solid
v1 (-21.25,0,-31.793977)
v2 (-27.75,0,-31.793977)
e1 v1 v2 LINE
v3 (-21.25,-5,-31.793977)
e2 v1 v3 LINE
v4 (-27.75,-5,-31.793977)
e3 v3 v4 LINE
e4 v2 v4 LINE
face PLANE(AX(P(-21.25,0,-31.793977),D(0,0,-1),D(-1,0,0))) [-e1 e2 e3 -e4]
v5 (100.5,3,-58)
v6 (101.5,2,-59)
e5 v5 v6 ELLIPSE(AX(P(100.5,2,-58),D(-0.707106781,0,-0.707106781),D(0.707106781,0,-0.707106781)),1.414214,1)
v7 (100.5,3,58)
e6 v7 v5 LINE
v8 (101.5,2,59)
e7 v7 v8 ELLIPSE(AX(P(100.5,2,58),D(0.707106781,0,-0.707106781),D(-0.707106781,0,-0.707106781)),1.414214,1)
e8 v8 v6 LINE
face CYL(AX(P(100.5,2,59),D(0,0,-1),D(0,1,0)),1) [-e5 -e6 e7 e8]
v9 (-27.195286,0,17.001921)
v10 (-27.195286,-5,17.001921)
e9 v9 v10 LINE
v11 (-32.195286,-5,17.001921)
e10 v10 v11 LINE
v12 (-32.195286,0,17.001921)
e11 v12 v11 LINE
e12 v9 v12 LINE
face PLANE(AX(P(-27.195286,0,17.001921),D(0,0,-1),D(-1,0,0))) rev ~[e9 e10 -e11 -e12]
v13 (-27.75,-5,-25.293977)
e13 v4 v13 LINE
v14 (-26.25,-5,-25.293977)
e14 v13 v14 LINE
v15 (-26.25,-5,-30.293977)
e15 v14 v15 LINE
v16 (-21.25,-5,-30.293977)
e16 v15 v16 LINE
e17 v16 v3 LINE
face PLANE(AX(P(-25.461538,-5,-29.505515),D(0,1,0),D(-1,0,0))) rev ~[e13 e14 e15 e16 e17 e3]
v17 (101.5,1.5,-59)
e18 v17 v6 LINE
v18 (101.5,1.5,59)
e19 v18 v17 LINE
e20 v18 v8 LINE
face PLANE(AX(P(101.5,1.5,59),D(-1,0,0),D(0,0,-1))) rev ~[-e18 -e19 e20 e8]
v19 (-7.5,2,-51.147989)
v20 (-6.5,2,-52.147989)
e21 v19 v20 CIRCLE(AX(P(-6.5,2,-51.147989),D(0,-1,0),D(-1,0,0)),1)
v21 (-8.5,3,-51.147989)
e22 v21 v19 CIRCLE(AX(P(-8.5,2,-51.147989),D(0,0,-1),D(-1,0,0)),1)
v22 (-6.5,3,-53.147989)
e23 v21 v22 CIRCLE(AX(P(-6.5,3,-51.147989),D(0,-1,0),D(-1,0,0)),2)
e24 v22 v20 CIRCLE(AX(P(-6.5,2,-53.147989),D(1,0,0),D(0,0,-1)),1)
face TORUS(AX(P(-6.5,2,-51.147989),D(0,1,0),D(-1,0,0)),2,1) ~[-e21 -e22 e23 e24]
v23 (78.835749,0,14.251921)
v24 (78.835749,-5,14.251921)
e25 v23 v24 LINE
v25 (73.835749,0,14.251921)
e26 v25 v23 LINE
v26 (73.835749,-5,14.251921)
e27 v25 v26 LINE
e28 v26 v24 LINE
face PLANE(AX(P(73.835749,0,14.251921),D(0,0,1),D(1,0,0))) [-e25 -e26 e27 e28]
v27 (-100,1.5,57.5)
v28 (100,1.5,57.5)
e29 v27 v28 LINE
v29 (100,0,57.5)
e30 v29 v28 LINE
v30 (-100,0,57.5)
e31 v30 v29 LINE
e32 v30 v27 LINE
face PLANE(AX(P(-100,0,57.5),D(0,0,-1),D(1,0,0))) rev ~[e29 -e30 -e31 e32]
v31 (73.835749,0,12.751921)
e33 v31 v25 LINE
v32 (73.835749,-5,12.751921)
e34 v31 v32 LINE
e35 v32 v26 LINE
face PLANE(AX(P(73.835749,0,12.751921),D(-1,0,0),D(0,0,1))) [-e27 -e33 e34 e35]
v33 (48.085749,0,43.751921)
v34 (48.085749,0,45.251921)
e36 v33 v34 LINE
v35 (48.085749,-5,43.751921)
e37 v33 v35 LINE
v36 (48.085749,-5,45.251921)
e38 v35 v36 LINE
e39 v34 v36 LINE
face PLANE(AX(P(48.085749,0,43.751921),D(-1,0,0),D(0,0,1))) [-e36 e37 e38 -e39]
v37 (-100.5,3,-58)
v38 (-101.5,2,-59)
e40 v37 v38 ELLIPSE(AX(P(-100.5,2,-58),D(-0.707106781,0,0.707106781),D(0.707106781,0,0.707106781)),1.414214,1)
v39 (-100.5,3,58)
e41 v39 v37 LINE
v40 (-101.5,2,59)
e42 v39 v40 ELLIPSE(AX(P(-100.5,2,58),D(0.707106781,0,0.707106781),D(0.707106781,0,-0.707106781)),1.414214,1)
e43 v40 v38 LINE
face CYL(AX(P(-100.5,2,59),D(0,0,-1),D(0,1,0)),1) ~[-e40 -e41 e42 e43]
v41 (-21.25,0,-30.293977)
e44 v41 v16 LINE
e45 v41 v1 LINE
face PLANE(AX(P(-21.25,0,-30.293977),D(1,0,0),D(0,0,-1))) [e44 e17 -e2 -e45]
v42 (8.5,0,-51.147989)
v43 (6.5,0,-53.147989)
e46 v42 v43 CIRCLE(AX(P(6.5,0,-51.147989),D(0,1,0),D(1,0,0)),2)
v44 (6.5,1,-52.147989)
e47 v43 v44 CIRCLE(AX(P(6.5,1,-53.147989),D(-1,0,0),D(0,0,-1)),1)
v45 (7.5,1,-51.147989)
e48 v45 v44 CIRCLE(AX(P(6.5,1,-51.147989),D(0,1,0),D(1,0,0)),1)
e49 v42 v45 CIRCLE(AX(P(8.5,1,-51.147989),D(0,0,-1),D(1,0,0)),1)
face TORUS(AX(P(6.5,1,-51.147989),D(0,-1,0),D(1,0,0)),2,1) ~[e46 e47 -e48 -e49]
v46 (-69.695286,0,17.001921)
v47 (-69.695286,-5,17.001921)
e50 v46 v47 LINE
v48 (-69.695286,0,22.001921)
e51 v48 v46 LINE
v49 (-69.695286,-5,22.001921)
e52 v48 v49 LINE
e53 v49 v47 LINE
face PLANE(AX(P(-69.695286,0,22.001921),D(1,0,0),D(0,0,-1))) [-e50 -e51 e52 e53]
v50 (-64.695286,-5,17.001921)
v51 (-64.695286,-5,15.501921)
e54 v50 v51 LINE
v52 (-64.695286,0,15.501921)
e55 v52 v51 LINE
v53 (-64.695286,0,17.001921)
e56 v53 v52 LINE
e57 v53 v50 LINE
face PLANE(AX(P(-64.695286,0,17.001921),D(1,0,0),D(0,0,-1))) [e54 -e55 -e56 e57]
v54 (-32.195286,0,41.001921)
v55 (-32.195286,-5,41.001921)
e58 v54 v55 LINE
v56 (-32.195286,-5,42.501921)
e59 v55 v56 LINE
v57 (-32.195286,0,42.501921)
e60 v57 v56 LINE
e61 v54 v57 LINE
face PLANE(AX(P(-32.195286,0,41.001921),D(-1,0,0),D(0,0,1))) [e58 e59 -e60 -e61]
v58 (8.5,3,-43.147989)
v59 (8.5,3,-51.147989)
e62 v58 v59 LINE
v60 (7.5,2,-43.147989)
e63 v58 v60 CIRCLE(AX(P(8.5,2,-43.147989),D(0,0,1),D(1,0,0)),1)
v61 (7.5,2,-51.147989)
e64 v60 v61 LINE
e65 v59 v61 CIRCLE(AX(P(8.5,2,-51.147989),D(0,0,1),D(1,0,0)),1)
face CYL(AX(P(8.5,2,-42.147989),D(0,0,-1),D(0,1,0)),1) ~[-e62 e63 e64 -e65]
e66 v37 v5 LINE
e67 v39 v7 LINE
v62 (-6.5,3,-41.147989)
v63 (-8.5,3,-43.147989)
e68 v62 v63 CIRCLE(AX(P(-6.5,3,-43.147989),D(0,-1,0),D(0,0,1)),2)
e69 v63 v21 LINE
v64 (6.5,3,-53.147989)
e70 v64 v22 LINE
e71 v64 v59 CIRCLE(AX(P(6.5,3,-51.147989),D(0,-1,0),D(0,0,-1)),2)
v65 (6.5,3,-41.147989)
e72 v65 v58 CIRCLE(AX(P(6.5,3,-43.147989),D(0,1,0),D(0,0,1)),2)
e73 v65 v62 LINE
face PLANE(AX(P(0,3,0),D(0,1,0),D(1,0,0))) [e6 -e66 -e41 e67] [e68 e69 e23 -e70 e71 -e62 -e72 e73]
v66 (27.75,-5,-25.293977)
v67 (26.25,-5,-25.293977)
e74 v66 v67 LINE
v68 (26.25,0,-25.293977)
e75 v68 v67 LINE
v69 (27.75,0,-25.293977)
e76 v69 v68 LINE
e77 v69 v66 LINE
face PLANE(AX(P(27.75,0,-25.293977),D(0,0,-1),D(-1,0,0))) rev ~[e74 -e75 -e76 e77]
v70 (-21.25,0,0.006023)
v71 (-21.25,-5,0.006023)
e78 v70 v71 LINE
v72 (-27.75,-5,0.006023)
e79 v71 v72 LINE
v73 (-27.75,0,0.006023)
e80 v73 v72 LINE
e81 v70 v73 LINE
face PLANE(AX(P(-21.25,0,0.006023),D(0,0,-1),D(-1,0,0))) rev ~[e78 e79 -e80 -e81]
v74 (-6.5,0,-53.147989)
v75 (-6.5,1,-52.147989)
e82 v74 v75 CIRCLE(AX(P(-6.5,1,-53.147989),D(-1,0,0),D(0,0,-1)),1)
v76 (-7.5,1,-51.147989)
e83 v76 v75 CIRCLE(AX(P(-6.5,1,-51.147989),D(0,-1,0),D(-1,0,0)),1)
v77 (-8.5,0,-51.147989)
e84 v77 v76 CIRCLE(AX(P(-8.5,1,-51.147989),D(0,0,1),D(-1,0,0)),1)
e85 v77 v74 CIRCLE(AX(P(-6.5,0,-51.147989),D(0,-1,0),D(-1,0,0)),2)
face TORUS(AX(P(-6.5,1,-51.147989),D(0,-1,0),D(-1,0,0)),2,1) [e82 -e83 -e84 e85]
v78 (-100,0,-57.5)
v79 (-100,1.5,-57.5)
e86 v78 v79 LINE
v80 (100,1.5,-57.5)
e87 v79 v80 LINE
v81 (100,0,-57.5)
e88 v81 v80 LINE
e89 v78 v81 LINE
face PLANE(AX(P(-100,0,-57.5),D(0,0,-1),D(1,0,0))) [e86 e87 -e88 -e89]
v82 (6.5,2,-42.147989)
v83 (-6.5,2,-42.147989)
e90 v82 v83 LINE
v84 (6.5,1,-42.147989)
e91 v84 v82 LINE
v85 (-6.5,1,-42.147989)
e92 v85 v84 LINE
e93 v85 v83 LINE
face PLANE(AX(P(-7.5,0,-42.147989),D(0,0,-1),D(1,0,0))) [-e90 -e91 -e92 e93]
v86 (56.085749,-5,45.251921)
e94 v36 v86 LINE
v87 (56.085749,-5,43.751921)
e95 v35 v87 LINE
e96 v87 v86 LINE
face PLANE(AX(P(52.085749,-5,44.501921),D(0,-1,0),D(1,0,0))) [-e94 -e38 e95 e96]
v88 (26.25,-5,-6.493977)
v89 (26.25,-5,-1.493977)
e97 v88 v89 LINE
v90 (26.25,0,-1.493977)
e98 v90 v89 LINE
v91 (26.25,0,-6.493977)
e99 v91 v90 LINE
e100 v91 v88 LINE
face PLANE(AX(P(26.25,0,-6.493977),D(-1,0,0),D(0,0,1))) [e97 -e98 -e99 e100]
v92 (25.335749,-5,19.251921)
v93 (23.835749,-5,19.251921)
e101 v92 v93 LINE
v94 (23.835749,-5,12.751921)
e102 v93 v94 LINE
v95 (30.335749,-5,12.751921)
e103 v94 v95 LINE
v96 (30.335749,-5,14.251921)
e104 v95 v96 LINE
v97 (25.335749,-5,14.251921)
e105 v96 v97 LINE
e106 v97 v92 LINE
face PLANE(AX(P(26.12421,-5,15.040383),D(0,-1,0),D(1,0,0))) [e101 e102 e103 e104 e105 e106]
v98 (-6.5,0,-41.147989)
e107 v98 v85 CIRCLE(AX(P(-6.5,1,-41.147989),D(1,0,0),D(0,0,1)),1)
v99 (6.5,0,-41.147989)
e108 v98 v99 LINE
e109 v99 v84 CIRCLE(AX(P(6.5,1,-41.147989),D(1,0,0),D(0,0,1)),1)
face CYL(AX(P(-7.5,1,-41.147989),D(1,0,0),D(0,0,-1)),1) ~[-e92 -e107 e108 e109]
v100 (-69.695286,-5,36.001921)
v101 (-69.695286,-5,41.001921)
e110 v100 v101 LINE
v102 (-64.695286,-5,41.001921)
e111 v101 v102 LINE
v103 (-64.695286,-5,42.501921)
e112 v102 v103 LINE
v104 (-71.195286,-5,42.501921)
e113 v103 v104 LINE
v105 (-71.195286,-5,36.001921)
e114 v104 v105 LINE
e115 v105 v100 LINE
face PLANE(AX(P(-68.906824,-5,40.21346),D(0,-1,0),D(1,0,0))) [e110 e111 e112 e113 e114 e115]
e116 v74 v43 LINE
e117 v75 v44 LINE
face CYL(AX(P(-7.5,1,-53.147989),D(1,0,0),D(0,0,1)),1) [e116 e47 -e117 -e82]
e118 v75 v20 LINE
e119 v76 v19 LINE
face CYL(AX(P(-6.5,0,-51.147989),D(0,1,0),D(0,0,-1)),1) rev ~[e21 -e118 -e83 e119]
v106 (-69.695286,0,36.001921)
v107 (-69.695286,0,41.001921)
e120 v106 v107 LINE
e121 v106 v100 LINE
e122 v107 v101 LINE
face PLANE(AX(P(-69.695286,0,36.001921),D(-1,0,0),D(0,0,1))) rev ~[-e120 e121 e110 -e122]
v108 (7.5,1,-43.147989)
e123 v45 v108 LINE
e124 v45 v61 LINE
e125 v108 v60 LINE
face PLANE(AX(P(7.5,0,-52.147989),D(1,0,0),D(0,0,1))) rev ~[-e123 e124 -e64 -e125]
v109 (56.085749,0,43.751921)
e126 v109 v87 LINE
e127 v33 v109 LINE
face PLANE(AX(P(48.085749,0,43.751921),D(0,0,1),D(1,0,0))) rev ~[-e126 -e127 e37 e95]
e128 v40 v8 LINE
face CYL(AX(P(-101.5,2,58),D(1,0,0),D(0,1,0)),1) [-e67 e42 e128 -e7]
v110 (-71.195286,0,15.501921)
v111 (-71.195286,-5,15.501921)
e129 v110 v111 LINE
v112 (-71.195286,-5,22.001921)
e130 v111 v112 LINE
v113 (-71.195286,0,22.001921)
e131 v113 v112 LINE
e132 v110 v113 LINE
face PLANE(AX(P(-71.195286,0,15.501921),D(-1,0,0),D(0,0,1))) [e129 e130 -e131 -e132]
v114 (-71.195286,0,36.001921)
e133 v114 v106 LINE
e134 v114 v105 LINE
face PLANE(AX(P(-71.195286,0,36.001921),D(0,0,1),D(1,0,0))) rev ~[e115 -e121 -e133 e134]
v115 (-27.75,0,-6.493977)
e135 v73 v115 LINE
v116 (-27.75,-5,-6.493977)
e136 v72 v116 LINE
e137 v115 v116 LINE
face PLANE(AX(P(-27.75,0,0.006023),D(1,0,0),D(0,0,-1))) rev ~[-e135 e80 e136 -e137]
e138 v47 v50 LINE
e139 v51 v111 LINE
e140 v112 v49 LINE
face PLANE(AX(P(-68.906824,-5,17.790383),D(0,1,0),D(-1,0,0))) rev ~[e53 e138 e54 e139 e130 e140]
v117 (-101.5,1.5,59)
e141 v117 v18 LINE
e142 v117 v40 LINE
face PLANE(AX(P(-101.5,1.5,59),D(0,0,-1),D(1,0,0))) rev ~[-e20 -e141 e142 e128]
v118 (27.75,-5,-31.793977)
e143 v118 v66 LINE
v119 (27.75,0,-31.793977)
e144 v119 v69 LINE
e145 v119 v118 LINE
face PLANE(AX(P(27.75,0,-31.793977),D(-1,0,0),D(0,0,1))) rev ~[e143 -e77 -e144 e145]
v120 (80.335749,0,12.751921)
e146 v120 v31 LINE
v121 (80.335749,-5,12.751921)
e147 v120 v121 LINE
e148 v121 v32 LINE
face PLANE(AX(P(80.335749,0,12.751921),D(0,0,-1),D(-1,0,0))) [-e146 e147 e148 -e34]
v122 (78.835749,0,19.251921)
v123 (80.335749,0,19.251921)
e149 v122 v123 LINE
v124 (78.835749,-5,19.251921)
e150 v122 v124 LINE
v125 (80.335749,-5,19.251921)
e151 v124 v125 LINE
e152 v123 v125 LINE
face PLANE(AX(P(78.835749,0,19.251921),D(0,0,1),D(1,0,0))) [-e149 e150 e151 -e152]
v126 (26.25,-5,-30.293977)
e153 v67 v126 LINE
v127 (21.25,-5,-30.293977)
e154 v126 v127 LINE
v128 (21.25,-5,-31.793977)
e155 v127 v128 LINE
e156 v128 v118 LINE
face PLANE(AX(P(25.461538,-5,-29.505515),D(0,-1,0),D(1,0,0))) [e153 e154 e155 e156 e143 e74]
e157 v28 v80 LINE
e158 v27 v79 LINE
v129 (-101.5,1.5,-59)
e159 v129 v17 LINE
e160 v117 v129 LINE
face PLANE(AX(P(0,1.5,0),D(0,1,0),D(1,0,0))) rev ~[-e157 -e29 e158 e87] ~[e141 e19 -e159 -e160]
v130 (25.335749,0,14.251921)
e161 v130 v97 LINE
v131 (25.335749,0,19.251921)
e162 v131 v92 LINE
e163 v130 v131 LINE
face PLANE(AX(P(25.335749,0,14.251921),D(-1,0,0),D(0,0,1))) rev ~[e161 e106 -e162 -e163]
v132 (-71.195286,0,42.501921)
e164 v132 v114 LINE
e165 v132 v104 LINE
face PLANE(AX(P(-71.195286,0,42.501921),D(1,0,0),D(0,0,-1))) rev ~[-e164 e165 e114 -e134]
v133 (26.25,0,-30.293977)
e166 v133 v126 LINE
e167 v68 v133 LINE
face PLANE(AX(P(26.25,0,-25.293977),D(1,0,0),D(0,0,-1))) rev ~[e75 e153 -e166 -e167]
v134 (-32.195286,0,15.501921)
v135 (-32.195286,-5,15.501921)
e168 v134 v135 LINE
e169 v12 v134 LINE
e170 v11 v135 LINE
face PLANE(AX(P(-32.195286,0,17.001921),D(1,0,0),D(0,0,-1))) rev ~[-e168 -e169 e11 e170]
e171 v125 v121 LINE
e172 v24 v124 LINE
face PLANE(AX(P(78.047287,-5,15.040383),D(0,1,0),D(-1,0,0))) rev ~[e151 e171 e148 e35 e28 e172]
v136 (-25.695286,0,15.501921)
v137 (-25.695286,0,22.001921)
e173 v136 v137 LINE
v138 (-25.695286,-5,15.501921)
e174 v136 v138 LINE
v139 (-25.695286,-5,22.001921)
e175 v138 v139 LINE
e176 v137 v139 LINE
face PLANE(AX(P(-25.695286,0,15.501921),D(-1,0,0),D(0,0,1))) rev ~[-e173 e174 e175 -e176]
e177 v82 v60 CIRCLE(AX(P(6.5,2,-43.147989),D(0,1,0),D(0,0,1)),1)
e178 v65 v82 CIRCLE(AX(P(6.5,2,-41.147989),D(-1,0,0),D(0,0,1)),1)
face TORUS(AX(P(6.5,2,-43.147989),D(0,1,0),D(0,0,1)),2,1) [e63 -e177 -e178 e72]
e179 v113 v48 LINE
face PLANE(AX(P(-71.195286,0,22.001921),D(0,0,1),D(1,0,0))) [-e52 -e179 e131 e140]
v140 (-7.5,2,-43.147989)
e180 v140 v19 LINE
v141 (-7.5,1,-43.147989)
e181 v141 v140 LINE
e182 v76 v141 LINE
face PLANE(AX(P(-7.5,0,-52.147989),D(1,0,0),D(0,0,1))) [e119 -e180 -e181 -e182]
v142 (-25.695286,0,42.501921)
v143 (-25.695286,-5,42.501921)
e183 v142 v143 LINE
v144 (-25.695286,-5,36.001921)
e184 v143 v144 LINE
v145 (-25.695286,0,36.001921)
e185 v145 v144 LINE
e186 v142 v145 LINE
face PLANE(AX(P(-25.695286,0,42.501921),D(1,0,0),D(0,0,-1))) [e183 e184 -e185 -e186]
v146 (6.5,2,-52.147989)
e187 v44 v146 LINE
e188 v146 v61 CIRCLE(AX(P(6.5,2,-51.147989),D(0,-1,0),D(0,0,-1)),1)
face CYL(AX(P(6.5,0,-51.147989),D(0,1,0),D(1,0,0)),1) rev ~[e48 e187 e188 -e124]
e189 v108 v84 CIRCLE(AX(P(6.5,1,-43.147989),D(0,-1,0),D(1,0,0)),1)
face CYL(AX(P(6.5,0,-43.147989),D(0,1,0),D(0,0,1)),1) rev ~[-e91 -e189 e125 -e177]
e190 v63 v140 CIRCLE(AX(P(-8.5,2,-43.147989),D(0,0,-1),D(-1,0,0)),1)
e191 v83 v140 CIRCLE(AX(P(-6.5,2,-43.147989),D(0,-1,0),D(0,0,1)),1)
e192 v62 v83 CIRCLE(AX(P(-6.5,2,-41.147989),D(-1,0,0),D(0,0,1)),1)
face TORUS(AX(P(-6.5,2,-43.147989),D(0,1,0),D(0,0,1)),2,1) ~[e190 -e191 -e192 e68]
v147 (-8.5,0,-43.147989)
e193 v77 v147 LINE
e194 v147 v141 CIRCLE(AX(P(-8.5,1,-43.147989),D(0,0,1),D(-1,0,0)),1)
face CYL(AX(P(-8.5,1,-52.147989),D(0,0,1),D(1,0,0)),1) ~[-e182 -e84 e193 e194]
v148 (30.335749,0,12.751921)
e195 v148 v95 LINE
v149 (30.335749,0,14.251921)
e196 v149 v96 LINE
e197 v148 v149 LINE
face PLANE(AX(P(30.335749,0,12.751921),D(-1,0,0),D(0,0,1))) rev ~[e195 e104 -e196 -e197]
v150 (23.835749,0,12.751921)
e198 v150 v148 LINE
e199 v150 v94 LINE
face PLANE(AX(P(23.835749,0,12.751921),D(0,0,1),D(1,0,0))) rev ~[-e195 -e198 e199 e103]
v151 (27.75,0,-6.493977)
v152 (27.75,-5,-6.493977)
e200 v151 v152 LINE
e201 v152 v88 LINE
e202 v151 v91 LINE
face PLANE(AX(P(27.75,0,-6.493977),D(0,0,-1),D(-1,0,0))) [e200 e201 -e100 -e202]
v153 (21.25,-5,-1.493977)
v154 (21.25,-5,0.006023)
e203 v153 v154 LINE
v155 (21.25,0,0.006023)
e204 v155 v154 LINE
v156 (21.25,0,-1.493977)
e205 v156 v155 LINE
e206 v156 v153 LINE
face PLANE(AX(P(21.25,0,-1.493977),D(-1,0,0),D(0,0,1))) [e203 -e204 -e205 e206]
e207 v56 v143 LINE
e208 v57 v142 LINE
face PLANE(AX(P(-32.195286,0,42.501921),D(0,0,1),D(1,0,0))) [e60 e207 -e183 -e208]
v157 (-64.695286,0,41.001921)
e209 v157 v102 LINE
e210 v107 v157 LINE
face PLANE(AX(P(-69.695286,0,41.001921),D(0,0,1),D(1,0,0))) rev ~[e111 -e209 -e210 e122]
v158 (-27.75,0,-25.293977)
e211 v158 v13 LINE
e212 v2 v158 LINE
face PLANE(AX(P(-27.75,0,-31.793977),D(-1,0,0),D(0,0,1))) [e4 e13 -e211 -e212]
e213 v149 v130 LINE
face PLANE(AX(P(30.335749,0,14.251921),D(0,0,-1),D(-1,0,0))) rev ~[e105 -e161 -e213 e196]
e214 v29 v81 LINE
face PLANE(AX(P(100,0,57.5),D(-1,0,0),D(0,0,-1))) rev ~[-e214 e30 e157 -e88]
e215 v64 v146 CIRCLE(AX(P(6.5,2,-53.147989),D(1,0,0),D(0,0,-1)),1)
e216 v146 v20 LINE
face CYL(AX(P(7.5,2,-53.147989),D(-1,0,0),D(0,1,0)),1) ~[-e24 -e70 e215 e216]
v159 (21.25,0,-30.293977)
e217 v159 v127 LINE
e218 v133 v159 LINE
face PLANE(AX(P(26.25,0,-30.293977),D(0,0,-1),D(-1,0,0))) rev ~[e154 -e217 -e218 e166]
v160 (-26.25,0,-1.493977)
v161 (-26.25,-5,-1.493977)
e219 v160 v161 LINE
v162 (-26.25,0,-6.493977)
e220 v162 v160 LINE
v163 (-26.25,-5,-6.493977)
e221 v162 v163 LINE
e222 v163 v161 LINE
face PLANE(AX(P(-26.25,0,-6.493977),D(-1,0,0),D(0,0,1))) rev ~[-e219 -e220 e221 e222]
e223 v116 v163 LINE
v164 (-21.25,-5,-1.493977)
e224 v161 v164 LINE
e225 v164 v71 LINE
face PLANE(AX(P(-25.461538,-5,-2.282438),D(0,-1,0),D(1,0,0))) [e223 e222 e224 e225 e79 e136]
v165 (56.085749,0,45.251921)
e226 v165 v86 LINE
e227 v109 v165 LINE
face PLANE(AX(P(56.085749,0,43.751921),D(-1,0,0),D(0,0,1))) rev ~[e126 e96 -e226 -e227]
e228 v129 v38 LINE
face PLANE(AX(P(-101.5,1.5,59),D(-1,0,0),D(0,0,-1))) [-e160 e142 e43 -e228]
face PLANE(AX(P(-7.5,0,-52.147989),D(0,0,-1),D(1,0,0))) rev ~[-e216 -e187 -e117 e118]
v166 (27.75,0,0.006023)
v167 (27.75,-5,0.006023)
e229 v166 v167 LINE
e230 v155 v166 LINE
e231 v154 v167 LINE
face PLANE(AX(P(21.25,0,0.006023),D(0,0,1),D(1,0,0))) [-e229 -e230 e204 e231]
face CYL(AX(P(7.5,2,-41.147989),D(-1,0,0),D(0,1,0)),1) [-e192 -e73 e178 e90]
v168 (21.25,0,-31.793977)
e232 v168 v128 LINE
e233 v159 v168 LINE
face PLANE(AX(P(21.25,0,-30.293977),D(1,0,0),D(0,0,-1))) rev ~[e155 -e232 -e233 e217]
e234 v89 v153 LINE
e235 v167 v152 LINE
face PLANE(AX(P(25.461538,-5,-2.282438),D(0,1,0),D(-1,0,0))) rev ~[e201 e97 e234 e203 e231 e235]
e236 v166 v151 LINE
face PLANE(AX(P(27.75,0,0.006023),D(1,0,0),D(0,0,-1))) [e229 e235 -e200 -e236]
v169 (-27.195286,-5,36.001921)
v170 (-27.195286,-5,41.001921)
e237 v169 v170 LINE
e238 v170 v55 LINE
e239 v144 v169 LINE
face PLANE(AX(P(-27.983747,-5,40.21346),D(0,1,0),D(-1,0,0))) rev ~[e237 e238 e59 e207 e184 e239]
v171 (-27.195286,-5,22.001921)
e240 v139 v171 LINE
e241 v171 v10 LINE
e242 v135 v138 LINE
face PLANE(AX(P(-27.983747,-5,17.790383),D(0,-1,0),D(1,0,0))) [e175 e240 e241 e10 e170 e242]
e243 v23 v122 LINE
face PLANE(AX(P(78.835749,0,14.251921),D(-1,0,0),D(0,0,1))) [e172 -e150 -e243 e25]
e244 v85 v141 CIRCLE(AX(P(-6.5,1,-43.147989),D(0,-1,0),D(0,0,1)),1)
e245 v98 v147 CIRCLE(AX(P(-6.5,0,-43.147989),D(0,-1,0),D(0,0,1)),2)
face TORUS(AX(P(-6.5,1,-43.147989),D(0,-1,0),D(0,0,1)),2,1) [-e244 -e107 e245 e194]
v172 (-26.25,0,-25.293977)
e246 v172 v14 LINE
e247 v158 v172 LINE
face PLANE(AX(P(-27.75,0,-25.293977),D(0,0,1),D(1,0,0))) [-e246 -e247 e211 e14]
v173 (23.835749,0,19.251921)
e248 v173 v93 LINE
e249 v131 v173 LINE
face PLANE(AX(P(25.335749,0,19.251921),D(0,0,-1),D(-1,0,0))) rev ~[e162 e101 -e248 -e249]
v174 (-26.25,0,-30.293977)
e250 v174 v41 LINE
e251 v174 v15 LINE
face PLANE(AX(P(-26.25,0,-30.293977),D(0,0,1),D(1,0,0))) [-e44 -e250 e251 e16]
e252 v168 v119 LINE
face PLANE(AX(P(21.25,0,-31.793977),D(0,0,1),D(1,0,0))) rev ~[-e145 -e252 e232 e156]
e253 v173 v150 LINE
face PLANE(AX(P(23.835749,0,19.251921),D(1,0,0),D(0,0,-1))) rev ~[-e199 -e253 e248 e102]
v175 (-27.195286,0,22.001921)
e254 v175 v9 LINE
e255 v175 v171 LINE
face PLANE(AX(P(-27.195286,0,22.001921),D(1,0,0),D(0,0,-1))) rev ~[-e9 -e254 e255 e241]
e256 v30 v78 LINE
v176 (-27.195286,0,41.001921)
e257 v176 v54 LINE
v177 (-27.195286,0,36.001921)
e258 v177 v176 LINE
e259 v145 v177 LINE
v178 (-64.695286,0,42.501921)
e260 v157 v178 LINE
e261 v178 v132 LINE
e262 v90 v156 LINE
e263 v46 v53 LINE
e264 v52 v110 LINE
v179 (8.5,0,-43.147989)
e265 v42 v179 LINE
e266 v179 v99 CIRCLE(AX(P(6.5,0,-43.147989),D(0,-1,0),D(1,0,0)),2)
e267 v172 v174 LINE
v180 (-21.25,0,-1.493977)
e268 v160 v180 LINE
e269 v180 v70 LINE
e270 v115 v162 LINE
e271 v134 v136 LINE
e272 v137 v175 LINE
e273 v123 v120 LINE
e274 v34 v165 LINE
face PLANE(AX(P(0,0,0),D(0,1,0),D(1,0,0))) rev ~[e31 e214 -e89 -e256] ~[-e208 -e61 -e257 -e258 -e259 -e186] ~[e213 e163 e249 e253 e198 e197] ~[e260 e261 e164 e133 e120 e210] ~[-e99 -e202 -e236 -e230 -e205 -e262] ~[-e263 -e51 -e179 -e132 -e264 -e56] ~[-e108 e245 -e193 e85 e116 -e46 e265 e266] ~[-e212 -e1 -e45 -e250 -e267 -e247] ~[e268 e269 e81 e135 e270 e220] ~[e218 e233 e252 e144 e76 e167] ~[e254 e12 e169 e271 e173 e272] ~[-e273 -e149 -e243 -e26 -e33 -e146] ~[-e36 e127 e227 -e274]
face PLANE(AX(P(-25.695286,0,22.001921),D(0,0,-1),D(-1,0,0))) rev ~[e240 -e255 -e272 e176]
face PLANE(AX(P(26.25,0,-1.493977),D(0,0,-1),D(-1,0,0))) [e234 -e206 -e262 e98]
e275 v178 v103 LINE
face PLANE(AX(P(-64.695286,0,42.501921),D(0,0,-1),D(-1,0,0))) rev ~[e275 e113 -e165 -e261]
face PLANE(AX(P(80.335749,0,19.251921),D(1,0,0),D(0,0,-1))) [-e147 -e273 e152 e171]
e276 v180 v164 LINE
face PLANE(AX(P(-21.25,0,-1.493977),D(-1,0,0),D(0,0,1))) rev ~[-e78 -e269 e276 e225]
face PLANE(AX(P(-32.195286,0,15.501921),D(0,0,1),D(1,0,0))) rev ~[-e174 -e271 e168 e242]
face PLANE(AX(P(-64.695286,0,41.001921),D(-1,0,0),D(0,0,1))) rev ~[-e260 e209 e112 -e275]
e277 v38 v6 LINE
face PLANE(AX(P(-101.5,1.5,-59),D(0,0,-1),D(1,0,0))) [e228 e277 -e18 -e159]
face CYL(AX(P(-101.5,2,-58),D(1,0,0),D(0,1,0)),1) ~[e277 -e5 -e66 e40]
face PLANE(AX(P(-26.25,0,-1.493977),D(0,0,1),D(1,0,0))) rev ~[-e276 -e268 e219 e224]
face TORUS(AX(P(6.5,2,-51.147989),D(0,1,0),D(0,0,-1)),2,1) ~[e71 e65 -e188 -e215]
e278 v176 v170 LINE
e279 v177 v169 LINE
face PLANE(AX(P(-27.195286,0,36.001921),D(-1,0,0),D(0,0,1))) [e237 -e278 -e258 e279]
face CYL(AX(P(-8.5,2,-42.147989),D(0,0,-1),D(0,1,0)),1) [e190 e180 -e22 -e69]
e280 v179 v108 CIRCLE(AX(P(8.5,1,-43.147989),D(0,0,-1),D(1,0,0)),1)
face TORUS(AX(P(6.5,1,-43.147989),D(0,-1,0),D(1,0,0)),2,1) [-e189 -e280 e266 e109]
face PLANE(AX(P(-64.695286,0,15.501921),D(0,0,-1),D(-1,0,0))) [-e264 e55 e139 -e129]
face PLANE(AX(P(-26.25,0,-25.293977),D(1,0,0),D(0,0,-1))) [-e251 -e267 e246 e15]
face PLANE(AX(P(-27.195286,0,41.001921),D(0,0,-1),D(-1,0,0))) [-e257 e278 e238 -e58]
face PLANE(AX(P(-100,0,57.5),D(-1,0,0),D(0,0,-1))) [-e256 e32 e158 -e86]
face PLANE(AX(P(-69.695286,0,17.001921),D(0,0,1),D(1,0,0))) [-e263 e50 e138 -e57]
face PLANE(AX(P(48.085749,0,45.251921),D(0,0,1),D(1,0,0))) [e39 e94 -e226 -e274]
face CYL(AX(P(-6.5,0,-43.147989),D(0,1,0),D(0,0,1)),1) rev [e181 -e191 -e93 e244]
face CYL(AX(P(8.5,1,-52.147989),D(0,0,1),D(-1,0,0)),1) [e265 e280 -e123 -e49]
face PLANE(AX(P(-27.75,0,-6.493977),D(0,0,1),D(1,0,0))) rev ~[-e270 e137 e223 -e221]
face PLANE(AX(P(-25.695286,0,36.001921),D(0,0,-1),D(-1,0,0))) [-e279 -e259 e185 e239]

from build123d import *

# Parameters (mm, degrees)
SKETCH_1_W          = 200
SKETCH_1_H          = 115
EXTRUDE_1_DEPTH     = 1.5
SKETCH_2_W          = 203
SKETCH_2_H          = 118
EXTRUDE_2_DEPTH     = 1.5
SKETCH_3_W          = 15
SKETCH_3_H          = 10
CUT_EXTRUDE_1_DEPTH = 11.5
FILLET_2_R          = 1
FILLET_3_R          = 1
SKETCH_4_W          = 8
SKETCH_4_H          = 1.5
EXTRUDE_3_DEPTH     = 5


with BuildPart() as part:
    # 草图1 → 凸台-拉伸1 (new body)
    with BuildSketch(Plane(origin=(0, 0, 0), x_dir=(1, 0, 0), z_dir=(0, 1, 0))):
        Rectangle(SKETCH_1_W, SKETCH_1_H)
    extrude(amount=EXTRUDE_1_DEPTH)

    # 草图2 → 凸台-拉伸2 (add)
    with BuildSketch(Plane(origin=(0, 1.5, 0), x_dir=(1, 0, 0), z_dir=(0, 1, 0))):
        Rectangle(SKETCH_2_W, SKETCH_2_H)
    extrude(amount=EXTRUDE_2_DEPTH)

    # 草图3 → 切除-拉伸1 (cut)
    with BuildSketch(Plane.XZ):
        with Locations((0, -47.14798892)):
            Rectangle(SKETCH_3_W, SKETCH_3_H)
    extrude(amount=-CUT_EXTRUDE_1_DEPTH, mode=Mode.SUBTRACT)

    # 圆角2
    fillet_2_edges = [part.edges().sort_by_distance(p)[0] for p in [
        (0, 3, -42.14798892),
        (-7.5, 3, -47.14798892),
        (0, 3, -52.14798892),
        (7.5, 3, -47.14798892),
        (7.5, 1.5, -42.14798892),
        (7.5, 1.5, -52.14798892),
        (-7.5, 1.5, -52.14798892),
        (-7.5, 1.5, -42.14798892),
        (7.5, 0, -47.14798892),
        (0, 0, -42.14798892),
        (-7.5, 0, -47.14798892),
        (0, 0, -52.14798892),
    ]]
    fillet(fillet_2_edges, radius=FILLET_2_R)

    # 圆角3
    fillet_3_edges = [part.edges().sort_by_distance(p)[0] for p in [
        (101.5, 3, 0),
        (0, 3, -59),
        (-101.5, 3, 0),
        (0, 3, 59),
    ]]
    fillet(fillet_3_edges, radius=FILLET_3_R)

    # 草图4 → 凸台-拉伸3 (add)
    with BuildSketch(Plane.XZ):
        Polygon((-64.695285942, 41.001921469), (-64.695285942, 42.501921469), (-71.195285942, 42.501921469), (-71.195285942, 36.001921469), (-69.695285942, 36.001921469), (-69.695285942, 41.001921469), align=None)
        Polygon((-21.25, -1.493976955), (-21.25, 0.006023045), (-27.75, 0.006023045), (-27.75, -6.493976955), (-26.25, -6.493976955), (-26.25, -1.493976955), align=None)
        Polygon((-32.195285942, 41.001921469), (-32.195285942, 42.501921469), (-25.695285942, 42.501921469), (-25.695285942, 36.001921469), (-27.195285942, 36.001921469), (-27.195285942, 41.001921469), align=None)
        Polygon((-25.695285942, 22.001921469), (-27.195285942, 22.001921469), (-27.195285942, 17.001921469), (-32.195285942, 17.001921469), (-32.195285942, 15.501921469), (-25.695285942, 15.501921469), align=None)
        Polygon((-71.195285942, 22.001921469), (-69.695285942, 22.001921469), (-69.695285942, 17.001921469), (-64.695285942, 17.001921469), (-64.695285942, 15.501921469), (-71.195285942, 15.501921469), align=None)
        Polygon((27.75, -6.493976955), (26.25, -6.493976955), (26.25, -1.493976955), (21.25, -1.493976955), (21.25, 0.006023045), (27.75, 0.006023045), align=None)
        Polygon((-26.25, -30.293976955), (-21.25, -30.293976955), (-21.25, -31.793976955), (-27.75, -31.793976955), (-27.75, -25.293976955), (-26.25, -25.293976955), align=None)
        Polygon((21.25, -30.293976955), (21.25, -31.793976955), (27.75, -31.793976955), (27.75, -25.293976955), (26.25, -25.293976955), (26.25, -30.293976955), align=None)
        with Locations((52.085748654, 44.501921469)):
            Rectangle(SKETCH_4_W, SKETCH_4_H)
        Polygon((25.335748654, 19.251921469), (23.835748654, 19.251921469), (23.835748654, 12.751921469), (30.335748654, 12.751921469), (30.335748654, 14.251921469), (25.335748654, 14.251921469), align=None)
        Polygon((73.835748654, 12.751921469), (73.835748654, 14.251921469), (78.835748654, 14.251921469), (78.835748654, 19.251921469), (80.335748654, 19.251921469), (80.335748654, 12.751921469), align=None)
    extrude(amount=EXTRUDE_3_DEPTH)


solid = part.part
